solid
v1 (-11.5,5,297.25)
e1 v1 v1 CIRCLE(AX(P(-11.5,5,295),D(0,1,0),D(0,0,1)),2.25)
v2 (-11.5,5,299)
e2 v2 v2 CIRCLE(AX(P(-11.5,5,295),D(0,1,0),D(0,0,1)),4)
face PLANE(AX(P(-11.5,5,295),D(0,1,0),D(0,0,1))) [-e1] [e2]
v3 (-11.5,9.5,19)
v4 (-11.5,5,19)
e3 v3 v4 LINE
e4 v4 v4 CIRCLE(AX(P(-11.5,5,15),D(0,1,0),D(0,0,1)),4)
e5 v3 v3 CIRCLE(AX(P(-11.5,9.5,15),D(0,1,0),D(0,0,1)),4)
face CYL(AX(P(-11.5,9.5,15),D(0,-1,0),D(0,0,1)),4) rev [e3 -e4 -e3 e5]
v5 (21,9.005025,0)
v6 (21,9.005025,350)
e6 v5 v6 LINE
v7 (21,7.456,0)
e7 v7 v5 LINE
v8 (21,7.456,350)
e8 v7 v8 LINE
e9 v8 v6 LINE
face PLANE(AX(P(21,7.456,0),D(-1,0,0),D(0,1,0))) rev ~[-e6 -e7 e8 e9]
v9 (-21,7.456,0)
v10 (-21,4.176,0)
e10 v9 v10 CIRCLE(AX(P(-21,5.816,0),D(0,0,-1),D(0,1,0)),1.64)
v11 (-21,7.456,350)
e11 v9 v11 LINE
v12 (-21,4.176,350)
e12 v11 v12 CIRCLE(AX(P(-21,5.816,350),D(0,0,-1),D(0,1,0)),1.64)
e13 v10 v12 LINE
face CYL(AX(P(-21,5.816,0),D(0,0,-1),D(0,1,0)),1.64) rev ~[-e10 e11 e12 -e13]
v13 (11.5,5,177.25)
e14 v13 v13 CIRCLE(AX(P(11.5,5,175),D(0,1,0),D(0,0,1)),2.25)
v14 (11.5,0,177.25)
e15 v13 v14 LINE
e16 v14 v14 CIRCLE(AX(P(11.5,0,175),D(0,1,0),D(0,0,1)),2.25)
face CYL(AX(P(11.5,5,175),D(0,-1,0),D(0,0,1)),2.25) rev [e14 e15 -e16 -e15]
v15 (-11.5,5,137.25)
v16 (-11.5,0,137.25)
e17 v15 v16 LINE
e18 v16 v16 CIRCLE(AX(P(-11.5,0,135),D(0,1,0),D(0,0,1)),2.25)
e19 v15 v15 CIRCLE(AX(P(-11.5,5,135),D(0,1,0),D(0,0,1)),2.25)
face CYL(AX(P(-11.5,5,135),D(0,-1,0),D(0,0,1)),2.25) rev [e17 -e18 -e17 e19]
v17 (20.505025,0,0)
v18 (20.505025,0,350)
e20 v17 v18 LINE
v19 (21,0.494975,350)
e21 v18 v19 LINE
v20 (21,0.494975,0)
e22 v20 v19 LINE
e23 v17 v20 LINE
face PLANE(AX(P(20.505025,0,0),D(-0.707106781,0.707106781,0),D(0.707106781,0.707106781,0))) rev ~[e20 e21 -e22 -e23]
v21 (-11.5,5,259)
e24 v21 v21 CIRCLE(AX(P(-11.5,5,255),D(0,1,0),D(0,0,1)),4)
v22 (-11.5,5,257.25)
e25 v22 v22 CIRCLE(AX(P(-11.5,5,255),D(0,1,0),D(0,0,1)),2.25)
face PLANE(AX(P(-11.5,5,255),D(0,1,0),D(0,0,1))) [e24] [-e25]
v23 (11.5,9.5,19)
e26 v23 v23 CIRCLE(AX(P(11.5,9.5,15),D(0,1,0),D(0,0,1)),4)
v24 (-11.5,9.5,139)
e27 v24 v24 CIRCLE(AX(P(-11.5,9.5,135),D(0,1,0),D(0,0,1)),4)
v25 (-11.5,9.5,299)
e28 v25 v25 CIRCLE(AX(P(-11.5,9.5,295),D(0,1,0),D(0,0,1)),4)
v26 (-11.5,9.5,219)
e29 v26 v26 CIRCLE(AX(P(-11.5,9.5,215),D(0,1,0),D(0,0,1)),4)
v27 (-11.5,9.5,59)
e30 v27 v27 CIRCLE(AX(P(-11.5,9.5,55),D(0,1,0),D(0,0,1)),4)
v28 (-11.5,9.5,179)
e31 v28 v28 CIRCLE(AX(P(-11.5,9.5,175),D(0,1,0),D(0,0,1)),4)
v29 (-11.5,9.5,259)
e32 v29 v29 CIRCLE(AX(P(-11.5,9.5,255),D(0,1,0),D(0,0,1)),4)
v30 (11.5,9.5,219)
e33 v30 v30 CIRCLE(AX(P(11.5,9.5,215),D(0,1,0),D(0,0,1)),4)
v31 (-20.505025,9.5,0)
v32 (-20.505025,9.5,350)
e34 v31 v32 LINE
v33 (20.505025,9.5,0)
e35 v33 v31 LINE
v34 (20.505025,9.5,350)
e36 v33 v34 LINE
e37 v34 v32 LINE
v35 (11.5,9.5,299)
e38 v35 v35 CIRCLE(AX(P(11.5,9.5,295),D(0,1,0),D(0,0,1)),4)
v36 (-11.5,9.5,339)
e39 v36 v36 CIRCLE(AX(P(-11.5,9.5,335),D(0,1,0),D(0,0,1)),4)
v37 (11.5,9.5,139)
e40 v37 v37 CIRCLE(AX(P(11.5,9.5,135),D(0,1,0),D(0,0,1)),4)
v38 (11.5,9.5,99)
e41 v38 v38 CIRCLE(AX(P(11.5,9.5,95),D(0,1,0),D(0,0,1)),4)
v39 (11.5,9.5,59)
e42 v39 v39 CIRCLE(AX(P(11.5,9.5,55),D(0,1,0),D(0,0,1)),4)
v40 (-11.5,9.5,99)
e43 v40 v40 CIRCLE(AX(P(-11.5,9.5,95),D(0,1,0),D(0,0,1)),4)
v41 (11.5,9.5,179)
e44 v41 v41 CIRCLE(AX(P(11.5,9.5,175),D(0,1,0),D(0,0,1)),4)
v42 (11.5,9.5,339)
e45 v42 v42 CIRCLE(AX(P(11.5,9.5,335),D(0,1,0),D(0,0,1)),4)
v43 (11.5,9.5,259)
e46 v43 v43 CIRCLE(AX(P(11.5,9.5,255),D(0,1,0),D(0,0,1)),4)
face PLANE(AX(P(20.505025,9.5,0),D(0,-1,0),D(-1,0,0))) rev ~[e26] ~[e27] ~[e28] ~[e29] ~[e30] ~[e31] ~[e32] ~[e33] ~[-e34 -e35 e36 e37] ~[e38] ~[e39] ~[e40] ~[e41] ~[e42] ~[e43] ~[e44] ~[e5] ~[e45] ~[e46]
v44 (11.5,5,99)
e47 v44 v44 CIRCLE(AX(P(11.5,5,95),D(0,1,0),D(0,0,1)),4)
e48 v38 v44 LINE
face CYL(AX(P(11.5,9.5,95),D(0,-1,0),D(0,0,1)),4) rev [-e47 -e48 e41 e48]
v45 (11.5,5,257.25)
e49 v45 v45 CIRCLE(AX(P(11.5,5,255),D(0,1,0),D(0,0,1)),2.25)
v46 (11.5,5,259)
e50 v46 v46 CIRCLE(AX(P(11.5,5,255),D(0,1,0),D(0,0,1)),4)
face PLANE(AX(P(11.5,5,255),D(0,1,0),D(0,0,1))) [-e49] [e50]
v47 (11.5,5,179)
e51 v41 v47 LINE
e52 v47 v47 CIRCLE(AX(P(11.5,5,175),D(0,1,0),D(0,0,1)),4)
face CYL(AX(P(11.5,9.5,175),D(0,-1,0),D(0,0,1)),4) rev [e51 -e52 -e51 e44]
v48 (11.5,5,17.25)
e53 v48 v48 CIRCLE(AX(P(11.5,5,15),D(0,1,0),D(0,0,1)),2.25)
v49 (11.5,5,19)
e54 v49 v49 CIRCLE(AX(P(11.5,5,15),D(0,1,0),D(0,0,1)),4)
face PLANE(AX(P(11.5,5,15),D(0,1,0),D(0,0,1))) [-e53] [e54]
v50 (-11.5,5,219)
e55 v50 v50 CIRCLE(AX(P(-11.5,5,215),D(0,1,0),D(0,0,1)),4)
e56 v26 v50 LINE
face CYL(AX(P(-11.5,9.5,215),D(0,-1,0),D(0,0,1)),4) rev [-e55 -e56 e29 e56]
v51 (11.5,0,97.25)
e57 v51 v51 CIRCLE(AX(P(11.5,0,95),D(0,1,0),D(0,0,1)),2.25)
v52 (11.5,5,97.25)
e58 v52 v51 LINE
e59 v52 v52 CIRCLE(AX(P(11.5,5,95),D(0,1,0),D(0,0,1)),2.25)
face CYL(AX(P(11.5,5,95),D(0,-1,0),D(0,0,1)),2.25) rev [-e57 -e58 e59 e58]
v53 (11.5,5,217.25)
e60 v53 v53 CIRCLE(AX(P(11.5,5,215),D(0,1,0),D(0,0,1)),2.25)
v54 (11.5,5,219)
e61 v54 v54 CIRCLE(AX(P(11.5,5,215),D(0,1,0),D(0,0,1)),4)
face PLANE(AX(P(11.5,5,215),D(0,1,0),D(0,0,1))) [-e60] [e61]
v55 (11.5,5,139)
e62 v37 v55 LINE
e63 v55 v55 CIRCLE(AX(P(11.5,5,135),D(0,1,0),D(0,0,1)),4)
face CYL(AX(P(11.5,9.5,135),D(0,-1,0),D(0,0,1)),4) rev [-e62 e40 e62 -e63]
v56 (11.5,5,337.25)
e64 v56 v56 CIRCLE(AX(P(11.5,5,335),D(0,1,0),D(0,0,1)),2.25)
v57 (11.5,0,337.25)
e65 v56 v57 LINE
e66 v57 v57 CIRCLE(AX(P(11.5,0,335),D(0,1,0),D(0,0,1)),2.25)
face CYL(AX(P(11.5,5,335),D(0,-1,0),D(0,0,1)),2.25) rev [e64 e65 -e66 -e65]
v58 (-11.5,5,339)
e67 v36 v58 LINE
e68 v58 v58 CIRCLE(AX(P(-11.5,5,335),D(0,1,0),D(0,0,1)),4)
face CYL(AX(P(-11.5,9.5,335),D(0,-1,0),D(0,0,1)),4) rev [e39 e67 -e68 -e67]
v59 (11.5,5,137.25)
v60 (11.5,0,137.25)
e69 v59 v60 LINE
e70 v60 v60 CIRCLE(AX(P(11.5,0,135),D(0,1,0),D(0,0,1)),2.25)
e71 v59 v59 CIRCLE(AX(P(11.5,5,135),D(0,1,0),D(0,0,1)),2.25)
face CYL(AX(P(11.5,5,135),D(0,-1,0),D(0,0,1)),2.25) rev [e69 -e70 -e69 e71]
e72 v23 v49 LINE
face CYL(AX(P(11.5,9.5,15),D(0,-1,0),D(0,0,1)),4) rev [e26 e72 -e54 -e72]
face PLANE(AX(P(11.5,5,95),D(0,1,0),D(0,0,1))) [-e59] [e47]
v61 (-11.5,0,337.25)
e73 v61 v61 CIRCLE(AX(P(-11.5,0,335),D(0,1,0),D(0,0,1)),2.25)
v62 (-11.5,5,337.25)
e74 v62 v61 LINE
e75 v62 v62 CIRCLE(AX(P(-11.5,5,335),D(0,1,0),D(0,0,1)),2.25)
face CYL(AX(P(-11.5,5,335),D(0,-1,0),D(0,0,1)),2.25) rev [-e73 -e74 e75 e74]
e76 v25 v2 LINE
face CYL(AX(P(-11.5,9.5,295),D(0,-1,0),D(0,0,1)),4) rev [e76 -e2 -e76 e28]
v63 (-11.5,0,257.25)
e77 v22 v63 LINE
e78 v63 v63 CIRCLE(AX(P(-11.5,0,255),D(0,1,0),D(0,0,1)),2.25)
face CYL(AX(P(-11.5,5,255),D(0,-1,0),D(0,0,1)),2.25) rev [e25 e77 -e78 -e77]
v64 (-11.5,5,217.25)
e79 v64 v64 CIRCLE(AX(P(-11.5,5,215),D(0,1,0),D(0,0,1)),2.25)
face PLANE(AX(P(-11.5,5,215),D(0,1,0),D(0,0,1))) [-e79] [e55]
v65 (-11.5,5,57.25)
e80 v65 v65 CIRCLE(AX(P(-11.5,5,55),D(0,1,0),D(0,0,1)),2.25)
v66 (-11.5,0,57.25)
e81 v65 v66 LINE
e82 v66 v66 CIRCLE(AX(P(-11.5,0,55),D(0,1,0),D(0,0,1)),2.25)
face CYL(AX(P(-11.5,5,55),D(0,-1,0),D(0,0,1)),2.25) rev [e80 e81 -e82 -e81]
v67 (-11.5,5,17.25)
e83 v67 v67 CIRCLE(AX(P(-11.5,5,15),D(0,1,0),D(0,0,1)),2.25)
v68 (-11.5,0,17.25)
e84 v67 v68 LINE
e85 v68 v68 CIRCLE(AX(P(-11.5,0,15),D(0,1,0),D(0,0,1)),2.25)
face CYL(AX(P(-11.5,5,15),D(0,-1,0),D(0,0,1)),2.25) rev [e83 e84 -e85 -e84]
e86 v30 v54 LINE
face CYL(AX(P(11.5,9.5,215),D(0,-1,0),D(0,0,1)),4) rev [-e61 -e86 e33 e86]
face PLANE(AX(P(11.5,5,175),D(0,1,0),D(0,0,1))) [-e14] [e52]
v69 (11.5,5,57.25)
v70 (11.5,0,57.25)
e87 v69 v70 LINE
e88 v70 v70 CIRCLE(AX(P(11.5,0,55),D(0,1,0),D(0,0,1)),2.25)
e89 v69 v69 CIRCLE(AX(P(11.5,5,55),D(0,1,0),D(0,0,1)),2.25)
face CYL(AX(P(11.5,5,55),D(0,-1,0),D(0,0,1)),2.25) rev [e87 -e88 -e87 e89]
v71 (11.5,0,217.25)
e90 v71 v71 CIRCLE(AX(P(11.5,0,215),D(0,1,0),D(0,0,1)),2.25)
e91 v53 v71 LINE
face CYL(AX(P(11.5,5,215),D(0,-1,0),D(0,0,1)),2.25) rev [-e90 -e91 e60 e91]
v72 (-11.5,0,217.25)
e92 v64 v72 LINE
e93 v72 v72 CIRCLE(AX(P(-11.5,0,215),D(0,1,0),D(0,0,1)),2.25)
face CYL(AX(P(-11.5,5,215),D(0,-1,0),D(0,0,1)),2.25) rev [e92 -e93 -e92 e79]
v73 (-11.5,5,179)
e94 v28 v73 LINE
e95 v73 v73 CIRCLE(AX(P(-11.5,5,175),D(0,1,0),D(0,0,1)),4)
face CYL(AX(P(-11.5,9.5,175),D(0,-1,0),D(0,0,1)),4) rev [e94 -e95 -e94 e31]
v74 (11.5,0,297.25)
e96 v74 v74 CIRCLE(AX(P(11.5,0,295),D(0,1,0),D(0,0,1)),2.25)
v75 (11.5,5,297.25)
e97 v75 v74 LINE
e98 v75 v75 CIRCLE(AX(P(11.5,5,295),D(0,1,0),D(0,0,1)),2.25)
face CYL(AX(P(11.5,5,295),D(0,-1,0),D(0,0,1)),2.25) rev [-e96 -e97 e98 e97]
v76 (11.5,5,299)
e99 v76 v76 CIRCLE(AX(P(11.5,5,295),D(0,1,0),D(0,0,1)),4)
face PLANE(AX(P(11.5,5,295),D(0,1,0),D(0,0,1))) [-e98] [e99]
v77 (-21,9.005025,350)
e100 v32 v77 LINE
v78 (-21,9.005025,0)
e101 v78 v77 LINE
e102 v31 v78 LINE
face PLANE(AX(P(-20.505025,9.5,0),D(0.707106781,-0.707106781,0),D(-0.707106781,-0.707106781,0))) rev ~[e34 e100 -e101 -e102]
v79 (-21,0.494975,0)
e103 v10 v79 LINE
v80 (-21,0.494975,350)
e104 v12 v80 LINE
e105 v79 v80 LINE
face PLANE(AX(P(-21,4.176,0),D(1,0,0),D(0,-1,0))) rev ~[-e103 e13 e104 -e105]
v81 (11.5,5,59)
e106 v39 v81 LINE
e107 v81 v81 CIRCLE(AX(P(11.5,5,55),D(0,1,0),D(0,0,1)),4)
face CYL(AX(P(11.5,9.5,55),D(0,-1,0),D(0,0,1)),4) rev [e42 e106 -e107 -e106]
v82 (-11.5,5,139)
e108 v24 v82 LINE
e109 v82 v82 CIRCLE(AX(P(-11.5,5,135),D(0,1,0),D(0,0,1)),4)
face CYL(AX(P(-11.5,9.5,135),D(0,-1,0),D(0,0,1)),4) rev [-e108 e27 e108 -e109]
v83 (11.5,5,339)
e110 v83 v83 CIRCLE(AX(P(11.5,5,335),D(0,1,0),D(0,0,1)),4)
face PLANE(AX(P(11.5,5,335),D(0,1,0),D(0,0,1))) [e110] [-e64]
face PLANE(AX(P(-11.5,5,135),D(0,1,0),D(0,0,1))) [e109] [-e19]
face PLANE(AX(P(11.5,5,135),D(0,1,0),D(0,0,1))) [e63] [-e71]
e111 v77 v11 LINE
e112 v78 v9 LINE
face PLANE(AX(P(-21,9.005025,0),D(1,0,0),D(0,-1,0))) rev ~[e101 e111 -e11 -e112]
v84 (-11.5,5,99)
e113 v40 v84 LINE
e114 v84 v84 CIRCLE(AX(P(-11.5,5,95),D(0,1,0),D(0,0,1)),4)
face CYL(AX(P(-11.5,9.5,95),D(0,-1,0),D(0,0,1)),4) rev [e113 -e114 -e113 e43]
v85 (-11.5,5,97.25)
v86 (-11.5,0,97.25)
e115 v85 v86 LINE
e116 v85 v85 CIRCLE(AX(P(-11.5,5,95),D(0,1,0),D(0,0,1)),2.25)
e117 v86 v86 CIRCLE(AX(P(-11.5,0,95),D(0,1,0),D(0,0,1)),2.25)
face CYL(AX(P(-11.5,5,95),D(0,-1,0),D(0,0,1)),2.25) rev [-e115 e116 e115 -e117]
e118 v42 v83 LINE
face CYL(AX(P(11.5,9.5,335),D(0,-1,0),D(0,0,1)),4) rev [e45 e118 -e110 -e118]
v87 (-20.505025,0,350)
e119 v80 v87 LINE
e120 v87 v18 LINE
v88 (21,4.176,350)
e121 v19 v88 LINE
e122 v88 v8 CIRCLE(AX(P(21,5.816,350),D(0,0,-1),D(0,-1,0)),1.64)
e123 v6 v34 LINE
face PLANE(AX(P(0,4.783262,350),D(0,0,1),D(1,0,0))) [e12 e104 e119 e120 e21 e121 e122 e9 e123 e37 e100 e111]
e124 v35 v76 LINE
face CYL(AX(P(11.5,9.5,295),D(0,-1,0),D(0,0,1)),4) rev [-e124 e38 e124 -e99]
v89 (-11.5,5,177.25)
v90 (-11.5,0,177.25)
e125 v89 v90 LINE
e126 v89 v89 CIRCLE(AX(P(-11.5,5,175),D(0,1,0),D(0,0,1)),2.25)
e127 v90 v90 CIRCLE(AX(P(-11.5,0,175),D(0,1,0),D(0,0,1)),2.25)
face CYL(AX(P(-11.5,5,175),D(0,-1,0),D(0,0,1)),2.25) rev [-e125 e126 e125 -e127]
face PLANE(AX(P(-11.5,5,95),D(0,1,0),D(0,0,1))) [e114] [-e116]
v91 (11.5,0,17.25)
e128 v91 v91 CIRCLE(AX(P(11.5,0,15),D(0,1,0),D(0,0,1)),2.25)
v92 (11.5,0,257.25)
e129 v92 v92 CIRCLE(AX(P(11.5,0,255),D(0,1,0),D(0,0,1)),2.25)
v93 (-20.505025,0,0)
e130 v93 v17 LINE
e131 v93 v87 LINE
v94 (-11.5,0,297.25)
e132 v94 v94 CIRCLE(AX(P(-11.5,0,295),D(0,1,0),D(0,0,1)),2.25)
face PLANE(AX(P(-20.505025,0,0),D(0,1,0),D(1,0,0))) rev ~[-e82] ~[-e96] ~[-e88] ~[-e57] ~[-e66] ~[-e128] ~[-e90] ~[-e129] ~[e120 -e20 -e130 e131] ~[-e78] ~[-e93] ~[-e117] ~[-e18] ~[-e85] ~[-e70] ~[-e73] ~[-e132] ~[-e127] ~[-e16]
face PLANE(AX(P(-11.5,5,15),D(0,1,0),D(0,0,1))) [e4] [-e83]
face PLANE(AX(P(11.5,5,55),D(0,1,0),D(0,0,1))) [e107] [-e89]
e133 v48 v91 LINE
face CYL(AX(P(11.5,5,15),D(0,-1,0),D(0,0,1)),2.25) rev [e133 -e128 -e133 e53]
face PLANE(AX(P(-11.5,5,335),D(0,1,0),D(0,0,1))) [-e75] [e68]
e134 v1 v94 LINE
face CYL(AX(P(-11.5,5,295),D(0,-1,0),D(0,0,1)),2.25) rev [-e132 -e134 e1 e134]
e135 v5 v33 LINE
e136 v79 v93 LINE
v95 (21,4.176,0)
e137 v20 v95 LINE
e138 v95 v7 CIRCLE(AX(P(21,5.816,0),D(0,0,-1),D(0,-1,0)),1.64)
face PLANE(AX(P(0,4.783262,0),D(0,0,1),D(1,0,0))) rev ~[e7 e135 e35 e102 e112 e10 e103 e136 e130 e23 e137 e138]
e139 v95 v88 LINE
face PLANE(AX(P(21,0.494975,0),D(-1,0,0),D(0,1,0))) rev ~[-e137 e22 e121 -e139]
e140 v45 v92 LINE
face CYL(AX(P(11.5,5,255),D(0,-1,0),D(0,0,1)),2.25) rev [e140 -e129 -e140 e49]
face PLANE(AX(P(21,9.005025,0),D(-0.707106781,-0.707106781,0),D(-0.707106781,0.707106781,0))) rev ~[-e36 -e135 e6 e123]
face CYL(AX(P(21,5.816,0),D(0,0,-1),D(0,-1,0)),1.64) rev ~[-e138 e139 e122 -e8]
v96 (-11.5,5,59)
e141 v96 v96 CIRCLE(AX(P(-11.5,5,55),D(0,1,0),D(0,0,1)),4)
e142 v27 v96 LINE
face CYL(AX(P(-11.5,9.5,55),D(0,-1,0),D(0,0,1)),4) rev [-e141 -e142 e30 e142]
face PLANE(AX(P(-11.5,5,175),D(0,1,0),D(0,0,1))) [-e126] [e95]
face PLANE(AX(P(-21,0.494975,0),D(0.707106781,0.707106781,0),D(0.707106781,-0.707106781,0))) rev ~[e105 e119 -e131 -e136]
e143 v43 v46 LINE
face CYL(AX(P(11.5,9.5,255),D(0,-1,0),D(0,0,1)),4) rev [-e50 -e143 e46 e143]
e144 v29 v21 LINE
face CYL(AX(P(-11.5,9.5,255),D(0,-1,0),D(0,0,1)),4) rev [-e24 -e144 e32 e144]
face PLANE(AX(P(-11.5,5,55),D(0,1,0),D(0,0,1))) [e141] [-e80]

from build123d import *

# Parameters (mm, degrees)
BOSS_EXTRUDE1_DEPTH = 350


with BuildPart() as part:
    # Sketch1 → Boss-Extrude1 (new body)
    with BuildSketch(Plane.XY):
        with BuildLine():
            Line((-21, 9.005025253), (-21, 7.456))
            ThreePointArc((-21, 7.456), (-19.36, 5.816), (-21, 4.176))
            Line((-21, 4.176), (-21, 0.494974747))
            Line((-21, 0.494974747), (-20.505025253, 0))
            Line((-20.505025253, 0), (20.505025253, 0))
            Line((20.505025253, 0), (21, 0.494974747))
            Line((21, 0.494974747), (21, 4.176))
            ThreePointArc((21, 4.176), (19.36, 5.816), (21, 7.456))
            Line((21, 7.456), (21, 9.005025253))
            Line((21, 9.005025253), (20.505025253, 9.5))
            Line((20.505025253, 9.5), (-20.505025253, 9.5))
            Line((-20.505025253, 9.5), (-21, 9.005025253))
        make_face()
    extrude(amount=BOSS_EXTRUDE1_DEPTH)

    # Sketch2 → Cut-Revolve1 (revolve, cut)
    with BuildSketch(Plane(origin=(11.5, 0, 0), x_dir=(0, 0, -1), z_dir=(1, 0, 0)), mode=Mode.PRIVATE) as cut_revolve1_sk:
        Polygon((-15, 9.5), (-11, 9.5), (-11, 5), (-12.75, 5), (-12.75, 0), (-15, 0), align=None)
    revolve(cut_revolve1_sk.sketch.rotate(Axis((11.5, 0, 15), (0, 1, 0)), 180), axis=Axis((11.5, 0, 15), (0, 1, 0)), mode=Mode.SUBTRACT)

    # Sketch3 → Cut-Revolve2 (revolve, cut)
    with BuildSketch(Plane(origin=(11.5, 0, 0), x_dir=(0, 0, -1), z_dir=(1, 0, 0)), mode=Mode.PRIVATE) as cut_revolve2_sk:
        Polygon((-335, 9.5), (-331, 9.5), (-331, 5), (-332.75, 5), (-332.75, 0), (-335, 0), align=None)
    revolve(cut_revolve2_sk.sketch.rotate(Axis((11.5, 0, 335), (0, 1, 0)), 180), axis=Axis((11.5, 0, 335), (0, 1, 0)), mode=Mode.SUBTRACT)

    # Sketch4 → Cut-Revolve3 (revolve, cut)
    with BuildSketch(Plane(origin=(-11.5, 0, 0), x_dir=(0, 0, -1), z_dir=(1, 0, 0)), mode=Mode.PRIVATE) as cut_revolve3_sk:
        Polygon((-335, 9.5), (-331, 9.5), (-331, 5), (-332.75, 5), (-332.75, 0), (-335, 0), align=None)
    revolve(cut_revolve3_sk.sketch.rotate(Axis((-11.5, 0, 335), (0, 1, 0)), 180), axis=Axis((-11.5, 0, 335), (0, 1, 0)), mode=Mode.SUBTRACT)

    # Sketch5 → Cut-Revolve4 (revolve, cut)
    with BuildSketch(Plane(origin=(11.5, 0, 0), x_dir=(0, 0, -1), z_dir=(1, 0, 0)), mode=Mode.PRIVATE) as cut_revolve4_sk:
        Polygon((-295, 9.5), (-291, 9.5), (-291, 5), (-292.75, 5), (-292.75, 0), (-295, 0), align=None)
    revolve(cut_revolve4_sk.sketch.rotate(Axis((11.5, 0, 295), (0, 1, 0)), 180), axis=Axis((11.5, 0, 295), (0, 1, 0)), mode=Mode.SUBTRACT)

    # Sketch6 → Cut-Revolve5 (revolve, cut)
    with BuildSketch(Plane(origin=(-11.5, 0, 0), x_dir=(0, 0, -1), z_dir=(1, 0, 0)), mode=Mode.PRIVATE) as cut_revolve5_sk:
        Polygon((-295, 9.5), (-291, 9.5), (-291, 5), (-292.75, 5), (-292.75, 0), (-295, 0), align=None)
    revolve(cut_revolve5_sk.sketch.rotate(Axis((-11.5, 0, 295), (0, 1, 0)), 180), axis=Axis((-11.5, 0, 295), (0, 1, 0)), mode=Mode.SUBTRACT)

    # Sketch7 → Cut-Revolve6 (revolve, cut)
    with BuildSketch(Plane(origin=(11.5, 0, 0), x_dir=(0, 0, -1), z_dir=(1, 0, 0)), mode=Mode.PRIVATE) as cut_revolve6_sk:
        Polygon((-255, 9.5), (-251, 9.5), (-251, 5), (-252.75, 5), (-252.75, 0), (-255, 0), align=None)
    revolve(cut_revolve6_sk.sketch.rotate(Axis((11.5, 0, 255), (0, 1, 0)), 180), axis=Axis((11.5, 0, 255), (0, 1, 0)), mode=Mode.SUBTRACT)

    # Sketch8 → Cut-Revolve7 (revolve, cut)
    with BuildSketch(Plane(origin=(-11.5, 0, 0), x_dir=(0, 0, -1), z_dir=(1, 0, 0)), mode=Mode.PRIVATE) as cut_revolve7_sk:
        Polygon((-255, 9.5), (-251, 9.5), (-251, 5), (-252.75, 5), (-252.75, 0), (-255, 0), align=None)
    revolve(cut_revolve7_sk.sketch.rotate(Axis((-11.5, 0, 255), (0, 1, 0)), 180), axis=Axis((-11.5, 0, 255), (0, 1, 0)), mode=Mode.SUBTRACT)

    # Sketch9 → Cut-Revolve8 (revolve, cut)
    with BuildSketch(Plane(origin=(11.5, 0, 0), x_dir=(0, 0, -1), z_dir=(1, 0, 0)), mode=Mode.PRIVATE) as cut_revolve8_sk:
        Polygon((-215, 9.5), (-211, 9.5), (-211, 5), (-212.75, 5), (-212.75, 0), (-215, 0), align=None)
    revolve(cut_revolve8_sk.sketch.rotate(Axis((11.5, 0, 215), (0, 1, 0)), 180), axis=Axis((11.5, 0, 215), (0, 1, 0)), mode=Mode.SUBTRACT)

    # Sketch10 → Cut-Revolve9 (revolve, cut)
    with BuildSketch(Plane(origin=(-11.5, 0, 0), x_dir=(0, 0, -1), z_dir=(1, 0, 0)), mode=Mode.PRIVATE) as cut_revolve9_sk:
        Polygon((-215, 9.5), (-211, 9.5), (-211, 5), (-212.75, 5), (-212.75, 0), (-215, 0), align=None)
    revolve(cut_revolve9_sk.sketch.rotate(Axis((-11.5, 0, 215), (0, 1, 0)), 180), axis=Axis((-11.5, 0, 215), (0, 1, 0)), mode=Mode.SUBTRACT)

    # Sketch11 → Cut-Revolve10 (revolve, cut)
    with BuildSketch(Plane(origin=(11.5, 0, 0), x_dir=(0, 0, -1), z_dir=(1, 0, 0)), mode=Mode.PRIVATE) as cut_revolve10_sk:
        Polygon((-175, 9.5), (-171, 9.5), (-171, 5), (-172.75, 5), (-172.75, 0), (-175, 0), align=None)
    revolve(cut_revolve10_sk.sketch.rotate(Axis((11.5, 0, 175), (0, 1, 0)), 180), axis=Axis((11.5, 0, 175), (0, 1, 0)), mode=Mode.SUBTRACT)

    # Sketch12 → Cut-Revolve11 (revolve, cut)
    with BuildSketch(Plane(origin=(-11.5, 0, 0), x_dir=(0, 0, -1), z_dir=(1, 0, 0)), mode=Mode.PRIVATE) as cut_revolve11_sk:
        Polygon((-175, 9.5), (-171, 9.5), (-171, 5), (-172.75, 5), (-172.75, 0), (-175, 0), align=None)
    revolve(cut_revolve11_sk.sketch.rotate(Axis((-11.5, 0, 175), (0, 1, 0)), 180), axis=Axis((-11.5, 0, 175), (0, 1, 0)), mode=Mode.SUBTRACT)

    # Sketch13 → Cut-Revolve12 (revolve, cut)
    with BuildSketch(Plane(origin=(11.5, 0, 0), x_dir=(0, 0, -1), z_dir=(1, 0, 0)), mode=Mode.PRIVATE) as cut_revolve12_sk:
        Polygon((-135, 9.5), (-131, 9.5), (-131, 5), (-132.75, 5), (-132.75, 0), (-135, 0), align=None)
    revolve(cut_revolve12_sk.sketch.rotate(Axis((11.5, 0, 135), (0, 1, 0)), 180), axis=Axis((11.5, 0, 135), (0, 1, 0)), mode=Mode.SUBTRACT)

    # Sketch14 → Cut-Revolve13 (revolve, cut)
    with BuildSketch(Plane(origin=(-11.5, 0, 0), x_dir=(0, 0, -1), z_dir=(1, 0, 0)), mode=Mode.PRIVATE) as cut_revolve13_sk:
        Polygon((-135, 9.5), (-131, 9.5), (-131, 5), (-132.75, 5), (-132.75, 0), (-135, 0), align=None)
    revolve(cut_revolve13_sk.sketch.rotate(Axis((-11.5, 0, 135), (0, 1, 0)), 180), axis=Axis((-11.5, 0, 135), (0, 1, 0)), mode=Mode.SUBTRACT)

    # Sketch15 → Cut-Revolve14 (revolve, cut)
    with BuildSketch(Plane(origin=(11.5, 0, 0), x_dir=(0, 0, -1), z_dir=(1, 0, 0)), mode=Mode.PRIVATE) as cut_revolve14_sk:
        Polygon((-95, 9.5), (-91, 9.5), (-91, 5), (-92.75, 5), (-92.75, 0), (-95, 0), align=None)
    revolve(cut_revolve14_sk.sketch.rotate(Axis((11.5, 0, 95), (0, 1, 0)), 180), axis=Axis((11.5, 0, 95), (0, 1, 0)), mode=Mode.SUBTRACT)

    # Sketch16 → Cut-Revolve15 (revolve, cut)
    with BuildSketch(Plane(origin=(-11.5, 0, 0), x_dir=(0, 0, -1), z_dir=(1, 0, 0)), mode=Mode.PRIVATE) as cut_revolve15_sk:
        Polygon((-95, 9.5), (-91, 9.5), (-91, 5), (-92.75, 5), (-92.75, 0), (-95, 0), align=None)
    revolve(cut_revolve15_sk.sketch.rotate(Axis((-11.5, 0, 95), (0, 1, 0)), 180), axis=Axis((-11.5, 0, 95), (0, 1, 0)), mode=Mode.SUBTRACT)

    # Sketch17 → Cut-Revolve16 (revolve, cut)
    with BuildSketch(Plane(origin=(11.5, 0, 0), x_dir=(0, 0, -1), z_dir=(1, 0, 0)), mode=Mode.PRIVATE) as cut_revolve16_sk:
        Polygon((-55, 9.5), (-51, 9.5), (-51, 5), (-52.75, 5), (-52.75, 0), (-55, 0), align=None)
    revolve(cut_revolve16_sk.sketch.rotate(Axis((11.5, 0, 55), (0, 1, 0)), 180), axis=Axis((11.5, 0, 55), (0, 1, 0)), mode=Mode.SUBTRACT)

    # Sketch18 → Cut-Revolve17 (revolve, cut)
    with BuildSketch(Plane(origin=(-11.5, 0, 0), x_dir=(0, 0, -1), z_dir=(1, 0, 0)), mode=Mode.PRIVATE) as cut_revolve17_sk:
        Polygon((-55, 9.5), (-51, 9.5), (-51, 5), (-52.75, 5), (-52.75, 0), (-55, 0), align=None)
    revolve(cut_revolve17_sk.sketch.rotate(Axis((-11.5, 0, 55), (0, 1, 0)), 180), axis=Axis((-11.5, 0, 55), (0, 1, 0)), mode=Mode.SUBTRACT)

    # Sketch19 → Cut-Revolve18 (revolve, cut)
    with BuildSketch(Plane(origin=(-11.5, 0, 0), x_dir=(0, 0, -1), z_dir=(1, 0, 0)), mode=Mode.PRIVATE) as cut_revolve18_sk:
        Polygon((-15, 9.5), (-11, 9.5), (-11, 5), (-12.75, 5), (-12.75, 0), (-15, 0), align=None)
    revolve(cut_revolve18_sk.sketch.rotate(Axis((-11.5, 0, 15), (0, 1, 0)), 180), axis=Axis((-11.5, 0, 15), (0, 1, 0)), mode=Mode.SUBTRACT)


solid = part.part
